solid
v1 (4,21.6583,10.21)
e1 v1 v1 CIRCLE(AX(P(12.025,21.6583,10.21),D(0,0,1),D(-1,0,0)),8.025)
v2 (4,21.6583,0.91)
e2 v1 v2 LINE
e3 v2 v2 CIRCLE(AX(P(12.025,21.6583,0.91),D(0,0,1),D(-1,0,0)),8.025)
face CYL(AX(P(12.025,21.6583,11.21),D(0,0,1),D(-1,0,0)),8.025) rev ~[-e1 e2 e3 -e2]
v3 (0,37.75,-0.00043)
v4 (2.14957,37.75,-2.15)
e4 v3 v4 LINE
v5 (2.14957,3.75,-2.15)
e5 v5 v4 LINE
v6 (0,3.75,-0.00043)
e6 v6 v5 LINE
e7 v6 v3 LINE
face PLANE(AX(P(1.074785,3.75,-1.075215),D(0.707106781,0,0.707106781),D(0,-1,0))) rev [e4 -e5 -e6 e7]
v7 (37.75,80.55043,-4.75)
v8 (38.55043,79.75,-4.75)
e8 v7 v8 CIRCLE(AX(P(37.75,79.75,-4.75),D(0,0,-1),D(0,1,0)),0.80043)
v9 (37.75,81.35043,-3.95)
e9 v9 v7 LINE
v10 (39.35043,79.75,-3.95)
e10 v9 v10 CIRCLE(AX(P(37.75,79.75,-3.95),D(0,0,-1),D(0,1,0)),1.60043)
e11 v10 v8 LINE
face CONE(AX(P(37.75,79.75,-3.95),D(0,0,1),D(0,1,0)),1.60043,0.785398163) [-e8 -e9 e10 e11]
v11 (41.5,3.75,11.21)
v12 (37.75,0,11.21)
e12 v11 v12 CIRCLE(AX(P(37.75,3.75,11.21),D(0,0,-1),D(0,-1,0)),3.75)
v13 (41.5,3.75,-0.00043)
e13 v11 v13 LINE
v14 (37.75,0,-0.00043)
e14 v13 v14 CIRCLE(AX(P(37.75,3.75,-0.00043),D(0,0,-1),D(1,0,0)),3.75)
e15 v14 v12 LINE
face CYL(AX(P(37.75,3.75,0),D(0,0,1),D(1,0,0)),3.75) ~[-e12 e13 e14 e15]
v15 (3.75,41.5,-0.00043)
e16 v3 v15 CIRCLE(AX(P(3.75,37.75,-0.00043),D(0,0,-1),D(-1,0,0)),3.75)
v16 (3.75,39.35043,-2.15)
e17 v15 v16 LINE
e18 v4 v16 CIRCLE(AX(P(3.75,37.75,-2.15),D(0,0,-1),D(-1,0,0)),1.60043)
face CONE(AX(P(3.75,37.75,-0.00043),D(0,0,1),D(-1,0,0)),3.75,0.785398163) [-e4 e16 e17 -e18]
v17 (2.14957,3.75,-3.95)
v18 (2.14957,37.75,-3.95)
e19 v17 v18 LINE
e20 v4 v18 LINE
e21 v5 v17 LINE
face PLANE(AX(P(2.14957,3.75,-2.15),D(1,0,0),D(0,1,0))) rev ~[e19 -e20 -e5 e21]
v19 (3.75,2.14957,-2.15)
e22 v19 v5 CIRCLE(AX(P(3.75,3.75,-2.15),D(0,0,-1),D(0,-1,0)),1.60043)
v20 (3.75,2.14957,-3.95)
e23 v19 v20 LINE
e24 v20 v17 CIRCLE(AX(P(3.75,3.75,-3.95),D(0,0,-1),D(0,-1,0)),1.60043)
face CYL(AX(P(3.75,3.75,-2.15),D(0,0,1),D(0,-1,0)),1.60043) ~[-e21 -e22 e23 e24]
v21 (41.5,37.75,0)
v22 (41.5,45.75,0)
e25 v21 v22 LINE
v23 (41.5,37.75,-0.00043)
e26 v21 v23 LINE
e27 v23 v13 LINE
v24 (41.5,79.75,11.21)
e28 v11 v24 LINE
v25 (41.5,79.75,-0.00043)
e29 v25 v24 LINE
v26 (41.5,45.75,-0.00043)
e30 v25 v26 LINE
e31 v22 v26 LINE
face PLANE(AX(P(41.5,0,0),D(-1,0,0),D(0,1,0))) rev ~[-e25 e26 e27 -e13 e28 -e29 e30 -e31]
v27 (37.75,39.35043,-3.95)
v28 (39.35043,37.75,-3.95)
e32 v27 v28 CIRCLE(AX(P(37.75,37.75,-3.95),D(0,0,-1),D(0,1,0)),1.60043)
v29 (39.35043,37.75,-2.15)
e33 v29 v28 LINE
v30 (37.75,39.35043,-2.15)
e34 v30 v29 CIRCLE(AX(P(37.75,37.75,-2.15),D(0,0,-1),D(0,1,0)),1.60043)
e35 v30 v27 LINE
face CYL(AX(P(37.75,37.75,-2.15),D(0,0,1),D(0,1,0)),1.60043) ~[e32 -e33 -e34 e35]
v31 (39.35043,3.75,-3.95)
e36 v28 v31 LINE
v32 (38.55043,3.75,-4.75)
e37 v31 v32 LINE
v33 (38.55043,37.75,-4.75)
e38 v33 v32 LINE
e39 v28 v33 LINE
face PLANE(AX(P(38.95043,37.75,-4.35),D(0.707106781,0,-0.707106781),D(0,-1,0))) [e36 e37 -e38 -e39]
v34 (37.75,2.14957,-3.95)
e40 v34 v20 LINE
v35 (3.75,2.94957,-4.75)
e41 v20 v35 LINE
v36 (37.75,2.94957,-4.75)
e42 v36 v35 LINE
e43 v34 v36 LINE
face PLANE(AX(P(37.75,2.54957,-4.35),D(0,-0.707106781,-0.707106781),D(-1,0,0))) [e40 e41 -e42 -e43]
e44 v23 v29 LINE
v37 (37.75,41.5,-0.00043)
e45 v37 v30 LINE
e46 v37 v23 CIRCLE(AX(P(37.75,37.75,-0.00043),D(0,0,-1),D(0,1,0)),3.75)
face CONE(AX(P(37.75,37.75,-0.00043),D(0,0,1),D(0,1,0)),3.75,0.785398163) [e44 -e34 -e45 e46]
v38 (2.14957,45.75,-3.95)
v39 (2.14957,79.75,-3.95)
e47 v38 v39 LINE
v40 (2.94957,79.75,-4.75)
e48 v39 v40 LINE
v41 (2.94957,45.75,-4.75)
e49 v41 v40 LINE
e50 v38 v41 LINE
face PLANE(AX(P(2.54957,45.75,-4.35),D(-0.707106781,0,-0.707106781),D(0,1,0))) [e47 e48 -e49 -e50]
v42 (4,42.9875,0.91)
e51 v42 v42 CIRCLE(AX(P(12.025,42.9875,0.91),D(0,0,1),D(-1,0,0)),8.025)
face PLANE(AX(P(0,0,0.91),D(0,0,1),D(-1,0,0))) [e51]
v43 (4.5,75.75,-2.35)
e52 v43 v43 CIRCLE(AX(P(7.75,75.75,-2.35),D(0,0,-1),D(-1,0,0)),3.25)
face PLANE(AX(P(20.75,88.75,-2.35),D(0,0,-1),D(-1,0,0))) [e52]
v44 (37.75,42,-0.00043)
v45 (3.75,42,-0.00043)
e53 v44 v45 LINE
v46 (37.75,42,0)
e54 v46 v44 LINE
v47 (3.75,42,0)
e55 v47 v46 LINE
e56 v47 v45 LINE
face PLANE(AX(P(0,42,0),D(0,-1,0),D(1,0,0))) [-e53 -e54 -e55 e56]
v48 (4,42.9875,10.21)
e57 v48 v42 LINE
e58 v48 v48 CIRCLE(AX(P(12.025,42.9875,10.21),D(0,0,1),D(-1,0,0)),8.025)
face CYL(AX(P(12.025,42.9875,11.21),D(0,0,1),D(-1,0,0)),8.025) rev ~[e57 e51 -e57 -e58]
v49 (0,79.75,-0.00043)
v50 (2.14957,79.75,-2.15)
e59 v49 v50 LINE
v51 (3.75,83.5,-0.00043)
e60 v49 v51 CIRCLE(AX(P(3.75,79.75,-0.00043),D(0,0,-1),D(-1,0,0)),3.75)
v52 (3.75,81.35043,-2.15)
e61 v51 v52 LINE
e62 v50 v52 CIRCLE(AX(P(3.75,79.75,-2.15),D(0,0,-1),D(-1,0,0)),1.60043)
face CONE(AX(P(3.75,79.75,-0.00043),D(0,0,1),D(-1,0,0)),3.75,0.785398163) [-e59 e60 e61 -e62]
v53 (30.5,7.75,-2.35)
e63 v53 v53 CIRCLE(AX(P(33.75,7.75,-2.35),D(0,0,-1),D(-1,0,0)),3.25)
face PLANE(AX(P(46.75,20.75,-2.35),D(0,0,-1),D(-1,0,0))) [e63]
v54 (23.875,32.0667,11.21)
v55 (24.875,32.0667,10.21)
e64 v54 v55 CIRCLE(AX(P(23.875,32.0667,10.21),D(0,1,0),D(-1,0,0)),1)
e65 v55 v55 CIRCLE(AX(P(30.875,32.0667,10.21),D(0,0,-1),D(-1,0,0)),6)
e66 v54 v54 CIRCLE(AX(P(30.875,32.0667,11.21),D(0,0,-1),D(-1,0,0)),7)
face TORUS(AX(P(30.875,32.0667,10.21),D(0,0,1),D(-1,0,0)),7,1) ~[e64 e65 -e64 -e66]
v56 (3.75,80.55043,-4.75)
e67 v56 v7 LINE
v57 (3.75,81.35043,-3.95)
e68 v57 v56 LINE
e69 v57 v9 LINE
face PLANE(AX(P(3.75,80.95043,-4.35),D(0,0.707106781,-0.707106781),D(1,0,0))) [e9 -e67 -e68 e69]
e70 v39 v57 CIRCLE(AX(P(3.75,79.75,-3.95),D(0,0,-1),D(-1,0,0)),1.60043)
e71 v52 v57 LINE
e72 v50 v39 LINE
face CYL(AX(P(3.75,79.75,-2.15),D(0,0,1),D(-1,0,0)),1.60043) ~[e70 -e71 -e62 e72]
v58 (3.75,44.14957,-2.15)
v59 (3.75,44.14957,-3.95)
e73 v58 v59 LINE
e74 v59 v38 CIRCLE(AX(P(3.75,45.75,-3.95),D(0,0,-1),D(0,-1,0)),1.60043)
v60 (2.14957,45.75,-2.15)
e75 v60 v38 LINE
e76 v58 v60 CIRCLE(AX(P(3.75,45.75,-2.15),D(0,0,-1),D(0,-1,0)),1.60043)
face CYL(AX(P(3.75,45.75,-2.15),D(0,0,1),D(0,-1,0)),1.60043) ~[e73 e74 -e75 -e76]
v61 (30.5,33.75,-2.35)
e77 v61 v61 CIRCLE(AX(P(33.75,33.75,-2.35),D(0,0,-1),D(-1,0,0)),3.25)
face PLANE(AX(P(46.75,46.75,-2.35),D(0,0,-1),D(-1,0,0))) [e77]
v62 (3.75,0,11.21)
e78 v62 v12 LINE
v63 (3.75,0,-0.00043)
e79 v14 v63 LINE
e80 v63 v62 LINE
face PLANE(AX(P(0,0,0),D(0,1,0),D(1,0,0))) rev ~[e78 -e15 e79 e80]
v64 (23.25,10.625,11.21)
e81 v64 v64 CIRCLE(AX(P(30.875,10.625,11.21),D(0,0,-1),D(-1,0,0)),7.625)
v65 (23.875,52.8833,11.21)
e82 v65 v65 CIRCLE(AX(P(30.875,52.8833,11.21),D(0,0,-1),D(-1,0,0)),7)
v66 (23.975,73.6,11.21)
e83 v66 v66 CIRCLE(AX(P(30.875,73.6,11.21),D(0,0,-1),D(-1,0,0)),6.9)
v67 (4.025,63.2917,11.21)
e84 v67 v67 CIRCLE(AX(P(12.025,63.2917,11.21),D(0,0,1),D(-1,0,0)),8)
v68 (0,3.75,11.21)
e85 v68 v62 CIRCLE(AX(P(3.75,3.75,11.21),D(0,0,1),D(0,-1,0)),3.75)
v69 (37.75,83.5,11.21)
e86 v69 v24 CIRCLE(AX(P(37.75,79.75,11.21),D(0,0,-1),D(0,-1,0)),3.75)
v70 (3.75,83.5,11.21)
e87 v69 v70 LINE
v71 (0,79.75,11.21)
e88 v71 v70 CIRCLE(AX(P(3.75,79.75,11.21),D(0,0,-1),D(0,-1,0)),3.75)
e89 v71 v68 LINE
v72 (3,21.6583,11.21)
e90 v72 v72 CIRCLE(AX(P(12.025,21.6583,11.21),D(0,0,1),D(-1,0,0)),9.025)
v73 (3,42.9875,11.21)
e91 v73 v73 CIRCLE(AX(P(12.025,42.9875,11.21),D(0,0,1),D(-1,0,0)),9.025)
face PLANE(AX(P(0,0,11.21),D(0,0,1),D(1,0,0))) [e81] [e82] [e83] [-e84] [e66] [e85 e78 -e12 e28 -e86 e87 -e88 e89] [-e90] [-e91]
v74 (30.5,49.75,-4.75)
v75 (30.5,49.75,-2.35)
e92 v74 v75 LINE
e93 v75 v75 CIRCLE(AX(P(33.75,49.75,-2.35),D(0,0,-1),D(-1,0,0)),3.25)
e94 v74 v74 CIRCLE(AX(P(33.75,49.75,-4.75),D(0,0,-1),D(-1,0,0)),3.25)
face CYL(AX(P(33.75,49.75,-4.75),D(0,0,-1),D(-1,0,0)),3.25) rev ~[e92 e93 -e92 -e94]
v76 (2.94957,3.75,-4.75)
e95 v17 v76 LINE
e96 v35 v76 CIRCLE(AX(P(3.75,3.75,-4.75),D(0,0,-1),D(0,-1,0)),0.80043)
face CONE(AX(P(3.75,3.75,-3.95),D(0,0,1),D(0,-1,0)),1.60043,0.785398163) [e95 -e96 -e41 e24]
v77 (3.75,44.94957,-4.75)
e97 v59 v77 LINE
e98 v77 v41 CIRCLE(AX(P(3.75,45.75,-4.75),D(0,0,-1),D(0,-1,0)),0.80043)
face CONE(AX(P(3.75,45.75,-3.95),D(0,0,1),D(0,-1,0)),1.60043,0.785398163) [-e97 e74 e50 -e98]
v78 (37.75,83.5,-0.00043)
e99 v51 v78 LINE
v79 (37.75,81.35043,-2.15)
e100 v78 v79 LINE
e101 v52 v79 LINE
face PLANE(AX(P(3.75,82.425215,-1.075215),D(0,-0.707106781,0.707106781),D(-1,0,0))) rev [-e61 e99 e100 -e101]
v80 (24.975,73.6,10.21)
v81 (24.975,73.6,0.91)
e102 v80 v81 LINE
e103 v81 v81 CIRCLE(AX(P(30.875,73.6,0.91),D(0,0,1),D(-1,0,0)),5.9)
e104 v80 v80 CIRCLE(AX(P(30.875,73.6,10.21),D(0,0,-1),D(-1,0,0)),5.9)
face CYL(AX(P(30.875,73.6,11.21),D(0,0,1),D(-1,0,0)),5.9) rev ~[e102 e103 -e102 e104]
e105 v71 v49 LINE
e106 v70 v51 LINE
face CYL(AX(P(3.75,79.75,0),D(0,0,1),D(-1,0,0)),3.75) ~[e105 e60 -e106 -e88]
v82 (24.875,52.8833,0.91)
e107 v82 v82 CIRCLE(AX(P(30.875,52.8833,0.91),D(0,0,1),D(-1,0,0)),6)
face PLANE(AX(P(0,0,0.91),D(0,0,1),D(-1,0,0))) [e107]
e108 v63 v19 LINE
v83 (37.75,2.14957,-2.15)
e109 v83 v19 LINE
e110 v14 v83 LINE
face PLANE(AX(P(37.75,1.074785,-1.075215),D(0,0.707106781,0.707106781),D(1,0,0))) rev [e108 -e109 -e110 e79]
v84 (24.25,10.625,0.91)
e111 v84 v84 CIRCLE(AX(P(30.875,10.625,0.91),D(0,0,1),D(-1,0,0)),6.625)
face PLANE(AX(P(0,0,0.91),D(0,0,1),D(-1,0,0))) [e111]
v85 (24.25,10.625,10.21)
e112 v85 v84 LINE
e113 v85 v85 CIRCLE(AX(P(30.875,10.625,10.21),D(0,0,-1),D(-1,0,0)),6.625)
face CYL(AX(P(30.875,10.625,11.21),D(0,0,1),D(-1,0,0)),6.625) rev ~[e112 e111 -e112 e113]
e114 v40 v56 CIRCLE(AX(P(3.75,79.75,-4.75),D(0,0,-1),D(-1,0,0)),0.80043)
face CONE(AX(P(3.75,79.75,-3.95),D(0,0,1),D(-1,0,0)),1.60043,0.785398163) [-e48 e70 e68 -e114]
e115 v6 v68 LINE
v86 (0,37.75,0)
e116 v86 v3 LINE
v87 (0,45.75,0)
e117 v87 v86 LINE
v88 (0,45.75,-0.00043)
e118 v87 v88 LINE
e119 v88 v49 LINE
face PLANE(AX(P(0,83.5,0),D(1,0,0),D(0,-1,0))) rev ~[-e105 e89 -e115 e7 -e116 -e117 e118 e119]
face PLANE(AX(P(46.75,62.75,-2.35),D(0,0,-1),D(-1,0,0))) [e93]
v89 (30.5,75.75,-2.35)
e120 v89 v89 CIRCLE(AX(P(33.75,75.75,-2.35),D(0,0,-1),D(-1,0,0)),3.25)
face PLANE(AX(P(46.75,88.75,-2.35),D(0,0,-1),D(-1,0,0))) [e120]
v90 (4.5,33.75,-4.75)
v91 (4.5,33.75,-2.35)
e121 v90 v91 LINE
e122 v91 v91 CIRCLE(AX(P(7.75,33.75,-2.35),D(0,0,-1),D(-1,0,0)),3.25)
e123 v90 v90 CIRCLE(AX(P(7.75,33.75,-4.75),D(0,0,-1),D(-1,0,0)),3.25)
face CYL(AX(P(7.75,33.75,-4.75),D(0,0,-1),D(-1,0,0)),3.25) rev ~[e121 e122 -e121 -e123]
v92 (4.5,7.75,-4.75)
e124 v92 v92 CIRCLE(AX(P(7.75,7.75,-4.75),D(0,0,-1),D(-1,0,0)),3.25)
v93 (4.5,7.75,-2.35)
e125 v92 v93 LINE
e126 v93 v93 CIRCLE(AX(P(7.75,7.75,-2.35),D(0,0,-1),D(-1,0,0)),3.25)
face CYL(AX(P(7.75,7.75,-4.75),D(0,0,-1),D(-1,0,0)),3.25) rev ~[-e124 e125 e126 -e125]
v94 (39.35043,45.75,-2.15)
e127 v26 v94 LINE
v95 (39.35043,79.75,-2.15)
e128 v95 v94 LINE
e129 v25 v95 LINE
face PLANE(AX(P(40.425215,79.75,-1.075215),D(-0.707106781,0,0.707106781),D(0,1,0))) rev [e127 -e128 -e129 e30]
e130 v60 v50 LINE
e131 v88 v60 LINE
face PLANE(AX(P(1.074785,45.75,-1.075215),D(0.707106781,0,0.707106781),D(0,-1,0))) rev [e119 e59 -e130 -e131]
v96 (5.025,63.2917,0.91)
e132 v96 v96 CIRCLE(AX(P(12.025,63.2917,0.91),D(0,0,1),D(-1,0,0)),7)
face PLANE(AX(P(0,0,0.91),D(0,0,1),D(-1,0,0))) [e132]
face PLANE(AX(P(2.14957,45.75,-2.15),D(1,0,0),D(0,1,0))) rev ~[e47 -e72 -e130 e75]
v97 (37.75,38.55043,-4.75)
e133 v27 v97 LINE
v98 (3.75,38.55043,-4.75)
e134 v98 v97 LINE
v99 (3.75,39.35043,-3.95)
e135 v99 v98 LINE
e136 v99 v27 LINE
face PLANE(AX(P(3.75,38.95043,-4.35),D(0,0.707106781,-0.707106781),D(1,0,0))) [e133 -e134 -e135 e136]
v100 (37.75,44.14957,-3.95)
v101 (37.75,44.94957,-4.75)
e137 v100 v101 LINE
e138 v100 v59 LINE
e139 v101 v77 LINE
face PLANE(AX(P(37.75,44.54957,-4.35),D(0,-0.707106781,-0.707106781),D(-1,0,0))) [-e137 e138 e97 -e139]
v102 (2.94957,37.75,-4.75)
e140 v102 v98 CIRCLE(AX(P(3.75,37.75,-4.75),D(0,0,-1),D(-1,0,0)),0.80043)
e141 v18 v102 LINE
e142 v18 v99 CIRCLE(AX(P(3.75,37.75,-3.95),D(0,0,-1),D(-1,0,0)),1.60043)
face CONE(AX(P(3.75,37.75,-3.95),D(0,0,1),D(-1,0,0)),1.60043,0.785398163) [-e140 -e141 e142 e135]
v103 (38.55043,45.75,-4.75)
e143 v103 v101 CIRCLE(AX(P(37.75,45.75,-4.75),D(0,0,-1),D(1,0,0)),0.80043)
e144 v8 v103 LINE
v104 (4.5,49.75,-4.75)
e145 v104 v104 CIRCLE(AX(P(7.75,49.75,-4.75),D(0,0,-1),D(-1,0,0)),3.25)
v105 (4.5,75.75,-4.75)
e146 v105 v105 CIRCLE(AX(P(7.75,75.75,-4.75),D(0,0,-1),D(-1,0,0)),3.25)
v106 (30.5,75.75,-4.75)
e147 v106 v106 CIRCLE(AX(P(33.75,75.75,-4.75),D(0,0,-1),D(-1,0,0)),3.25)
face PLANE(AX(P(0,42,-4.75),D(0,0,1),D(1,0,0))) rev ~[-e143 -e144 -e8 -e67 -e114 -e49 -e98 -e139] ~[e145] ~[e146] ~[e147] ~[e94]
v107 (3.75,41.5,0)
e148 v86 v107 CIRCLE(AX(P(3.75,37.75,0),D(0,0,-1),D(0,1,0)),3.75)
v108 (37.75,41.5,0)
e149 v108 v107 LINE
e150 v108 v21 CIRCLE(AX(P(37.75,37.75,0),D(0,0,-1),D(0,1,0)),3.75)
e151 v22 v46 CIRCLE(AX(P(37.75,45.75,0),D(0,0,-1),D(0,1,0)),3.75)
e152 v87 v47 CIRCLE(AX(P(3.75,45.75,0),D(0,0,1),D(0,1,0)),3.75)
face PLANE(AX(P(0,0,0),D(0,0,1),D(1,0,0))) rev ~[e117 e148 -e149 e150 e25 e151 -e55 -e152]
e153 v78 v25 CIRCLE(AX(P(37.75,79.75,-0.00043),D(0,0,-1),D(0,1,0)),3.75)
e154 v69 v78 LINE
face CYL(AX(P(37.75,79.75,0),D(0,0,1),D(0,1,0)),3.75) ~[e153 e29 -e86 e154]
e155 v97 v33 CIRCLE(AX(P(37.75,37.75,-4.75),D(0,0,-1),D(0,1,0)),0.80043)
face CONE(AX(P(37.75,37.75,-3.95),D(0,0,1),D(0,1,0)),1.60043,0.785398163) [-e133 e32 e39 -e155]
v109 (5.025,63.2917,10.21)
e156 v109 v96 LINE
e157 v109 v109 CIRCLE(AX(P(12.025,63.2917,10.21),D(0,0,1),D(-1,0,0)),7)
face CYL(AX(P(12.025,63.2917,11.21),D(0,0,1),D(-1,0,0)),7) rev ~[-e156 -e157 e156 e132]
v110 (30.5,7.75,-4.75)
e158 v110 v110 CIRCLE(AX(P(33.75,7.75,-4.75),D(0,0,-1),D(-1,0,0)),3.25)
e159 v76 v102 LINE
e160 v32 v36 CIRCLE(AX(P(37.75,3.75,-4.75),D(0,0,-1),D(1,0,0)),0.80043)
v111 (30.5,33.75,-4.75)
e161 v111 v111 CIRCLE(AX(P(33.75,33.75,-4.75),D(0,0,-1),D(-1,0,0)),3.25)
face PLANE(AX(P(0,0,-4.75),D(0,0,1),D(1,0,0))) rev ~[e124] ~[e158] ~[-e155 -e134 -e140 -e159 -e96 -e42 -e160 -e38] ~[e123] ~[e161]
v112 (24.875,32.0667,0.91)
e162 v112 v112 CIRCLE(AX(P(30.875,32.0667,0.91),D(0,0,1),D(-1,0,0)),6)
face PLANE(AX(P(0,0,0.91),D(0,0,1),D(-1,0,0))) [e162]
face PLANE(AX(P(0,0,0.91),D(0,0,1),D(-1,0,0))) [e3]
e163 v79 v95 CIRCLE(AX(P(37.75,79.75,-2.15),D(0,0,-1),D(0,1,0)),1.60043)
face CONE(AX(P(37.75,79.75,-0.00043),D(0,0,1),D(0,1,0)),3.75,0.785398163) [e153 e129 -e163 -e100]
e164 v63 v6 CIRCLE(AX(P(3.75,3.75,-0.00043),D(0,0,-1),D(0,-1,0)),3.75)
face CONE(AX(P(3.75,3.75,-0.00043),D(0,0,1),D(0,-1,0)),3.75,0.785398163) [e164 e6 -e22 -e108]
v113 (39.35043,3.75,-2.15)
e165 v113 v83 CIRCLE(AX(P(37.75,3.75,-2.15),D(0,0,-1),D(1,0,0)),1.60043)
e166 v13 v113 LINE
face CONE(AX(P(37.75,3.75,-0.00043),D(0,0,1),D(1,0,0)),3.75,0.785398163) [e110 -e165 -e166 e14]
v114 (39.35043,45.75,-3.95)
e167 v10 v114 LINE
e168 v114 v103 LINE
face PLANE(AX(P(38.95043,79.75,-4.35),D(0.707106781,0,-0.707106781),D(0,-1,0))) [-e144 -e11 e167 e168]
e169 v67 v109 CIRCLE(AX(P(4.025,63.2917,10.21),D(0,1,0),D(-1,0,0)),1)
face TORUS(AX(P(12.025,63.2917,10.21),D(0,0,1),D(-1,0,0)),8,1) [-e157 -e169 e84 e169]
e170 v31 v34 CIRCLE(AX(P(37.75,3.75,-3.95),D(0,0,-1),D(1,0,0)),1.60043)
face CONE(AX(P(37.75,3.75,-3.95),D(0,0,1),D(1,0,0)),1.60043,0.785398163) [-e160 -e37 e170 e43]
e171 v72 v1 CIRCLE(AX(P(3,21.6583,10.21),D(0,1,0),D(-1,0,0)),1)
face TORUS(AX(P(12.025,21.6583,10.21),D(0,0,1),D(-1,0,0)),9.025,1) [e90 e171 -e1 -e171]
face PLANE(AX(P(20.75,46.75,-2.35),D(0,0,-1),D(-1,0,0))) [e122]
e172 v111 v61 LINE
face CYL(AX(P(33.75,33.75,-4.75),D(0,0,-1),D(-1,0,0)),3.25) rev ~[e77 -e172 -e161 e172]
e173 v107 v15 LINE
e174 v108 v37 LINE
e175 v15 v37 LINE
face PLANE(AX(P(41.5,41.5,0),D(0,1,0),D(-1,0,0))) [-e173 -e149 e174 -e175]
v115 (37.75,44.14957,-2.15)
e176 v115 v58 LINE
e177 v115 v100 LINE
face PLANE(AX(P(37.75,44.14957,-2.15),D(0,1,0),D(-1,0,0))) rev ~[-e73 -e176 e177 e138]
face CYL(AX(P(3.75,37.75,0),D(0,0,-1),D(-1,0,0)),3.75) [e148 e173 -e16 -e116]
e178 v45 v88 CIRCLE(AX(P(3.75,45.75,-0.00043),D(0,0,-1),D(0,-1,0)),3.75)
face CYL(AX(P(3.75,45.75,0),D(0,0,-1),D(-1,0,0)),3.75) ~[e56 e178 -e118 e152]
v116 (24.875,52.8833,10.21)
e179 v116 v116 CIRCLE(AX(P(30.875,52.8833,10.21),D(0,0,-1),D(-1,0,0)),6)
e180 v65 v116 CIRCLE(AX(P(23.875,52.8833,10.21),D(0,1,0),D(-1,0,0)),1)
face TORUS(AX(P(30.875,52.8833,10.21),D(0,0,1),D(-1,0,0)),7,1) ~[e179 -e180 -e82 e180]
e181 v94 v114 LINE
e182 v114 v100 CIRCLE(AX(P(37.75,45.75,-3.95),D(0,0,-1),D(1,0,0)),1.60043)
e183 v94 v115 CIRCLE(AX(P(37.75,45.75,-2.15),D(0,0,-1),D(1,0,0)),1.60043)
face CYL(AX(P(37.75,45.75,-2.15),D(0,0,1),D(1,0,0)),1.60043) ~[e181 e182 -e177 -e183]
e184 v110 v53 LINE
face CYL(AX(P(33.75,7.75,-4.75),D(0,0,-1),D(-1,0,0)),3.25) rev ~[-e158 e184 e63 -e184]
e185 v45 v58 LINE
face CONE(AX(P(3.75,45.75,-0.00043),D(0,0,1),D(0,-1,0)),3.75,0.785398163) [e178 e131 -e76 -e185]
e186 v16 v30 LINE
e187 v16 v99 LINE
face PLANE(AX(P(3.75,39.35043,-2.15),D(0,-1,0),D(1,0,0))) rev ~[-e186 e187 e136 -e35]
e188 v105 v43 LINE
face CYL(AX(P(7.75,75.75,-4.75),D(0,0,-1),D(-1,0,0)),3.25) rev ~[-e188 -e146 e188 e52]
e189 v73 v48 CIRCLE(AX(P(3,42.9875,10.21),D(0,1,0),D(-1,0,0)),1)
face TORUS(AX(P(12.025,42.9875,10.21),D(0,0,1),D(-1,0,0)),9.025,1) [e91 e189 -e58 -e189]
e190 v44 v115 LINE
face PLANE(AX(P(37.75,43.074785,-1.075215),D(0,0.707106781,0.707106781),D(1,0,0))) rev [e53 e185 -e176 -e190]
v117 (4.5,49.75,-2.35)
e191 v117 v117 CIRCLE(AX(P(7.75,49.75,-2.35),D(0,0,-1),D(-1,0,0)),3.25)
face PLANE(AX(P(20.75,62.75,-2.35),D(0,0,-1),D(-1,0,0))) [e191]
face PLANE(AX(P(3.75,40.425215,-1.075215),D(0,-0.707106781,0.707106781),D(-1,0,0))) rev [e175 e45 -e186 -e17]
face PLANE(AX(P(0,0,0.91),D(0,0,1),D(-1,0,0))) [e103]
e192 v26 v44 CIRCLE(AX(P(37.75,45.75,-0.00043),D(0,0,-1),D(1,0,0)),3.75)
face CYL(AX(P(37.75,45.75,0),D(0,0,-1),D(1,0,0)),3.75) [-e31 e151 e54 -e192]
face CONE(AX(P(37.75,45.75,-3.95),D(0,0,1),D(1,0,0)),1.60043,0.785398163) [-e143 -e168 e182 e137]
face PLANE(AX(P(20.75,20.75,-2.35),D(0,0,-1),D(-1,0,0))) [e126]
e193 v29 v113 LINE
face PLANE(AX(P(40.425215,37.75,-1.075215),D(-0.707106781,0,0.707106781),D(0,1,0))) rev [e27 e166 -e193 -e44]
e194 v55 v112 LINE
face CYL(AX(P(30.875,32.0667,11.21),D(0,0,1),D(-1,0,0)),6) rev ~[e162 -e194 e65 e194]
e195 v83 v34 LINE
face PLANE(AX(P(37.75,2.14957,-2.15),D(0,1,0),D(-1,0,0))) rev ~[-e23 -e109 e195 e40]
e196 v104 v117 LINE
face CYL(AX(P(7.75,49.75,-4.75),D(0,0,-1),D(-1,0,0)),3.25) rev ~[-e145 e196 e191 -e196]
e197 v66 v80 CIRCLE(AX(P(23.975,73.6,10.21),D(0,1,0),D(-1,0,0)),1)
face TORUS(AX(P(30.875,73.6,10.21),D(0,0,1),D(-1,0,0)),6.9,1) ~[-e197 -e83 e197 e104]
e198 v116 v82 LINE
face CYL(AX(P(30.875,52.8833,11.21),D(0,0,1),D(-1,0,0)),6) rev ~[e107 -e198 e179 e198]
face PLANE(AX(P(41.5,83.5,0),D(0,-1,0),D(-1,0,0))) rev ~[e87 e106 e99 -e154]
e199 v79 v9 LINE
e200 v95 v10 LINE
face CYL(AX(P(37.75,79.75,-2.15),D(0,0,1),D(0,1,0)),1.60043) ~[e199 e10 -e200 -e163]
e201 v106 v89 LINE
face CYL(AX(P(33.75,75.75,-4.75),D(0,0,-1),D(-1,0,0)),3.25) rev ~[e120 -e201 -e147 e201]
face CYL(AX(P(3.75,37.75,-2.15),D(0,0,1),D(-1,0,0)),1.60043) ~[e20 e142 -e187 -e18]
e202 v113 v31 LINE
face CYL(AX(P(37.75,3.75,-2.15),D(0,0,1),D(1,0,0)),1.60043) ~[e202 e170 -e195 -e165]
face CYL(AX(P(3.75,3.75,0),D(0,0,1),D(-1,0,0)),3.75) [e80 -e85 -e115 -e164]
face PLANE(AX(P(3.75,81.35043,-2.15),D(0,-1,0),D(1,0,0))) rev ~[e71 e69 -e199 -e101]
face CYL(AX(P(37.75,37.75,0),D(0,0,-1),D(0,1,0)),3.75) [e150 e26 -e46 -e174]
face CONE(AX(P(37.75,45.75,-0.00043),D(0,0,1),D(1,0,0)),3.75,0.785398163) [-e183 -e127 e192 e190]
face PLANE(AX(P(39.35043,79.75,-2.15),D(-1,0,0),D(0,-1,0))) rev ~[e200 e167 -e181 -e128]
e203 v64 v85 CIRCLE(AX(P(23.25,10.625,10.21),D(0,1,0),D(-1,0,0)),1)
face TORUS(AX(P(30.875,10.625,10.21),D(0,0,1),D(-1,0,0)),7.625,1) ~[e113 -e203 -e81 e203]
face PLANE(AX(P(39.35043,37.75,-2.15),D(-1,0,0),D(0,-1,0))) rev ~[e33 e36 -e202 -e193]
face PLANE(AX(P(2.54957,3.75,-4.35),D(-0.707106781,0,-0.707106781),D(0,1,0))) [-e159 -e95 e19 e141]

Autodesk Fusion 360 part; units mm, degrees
ref_plane "WorkPlane1" through (0, 0, 0) normal (0, 0, 1) x (1, 0, 0) in component "Gridfinity bin 2x1x2"
sketch "Sketch1" plane through (0, 0, 0) normal (0, 0, 1) x (1, 0, 0) in component "Gridfinity bin 2x1x2"
  line L0 (0, 0) -> (41.5, 0)
  line L1 (41.5, 0) -> (41.5, 41.5)
  line L2 (41.5, 41.5) -> (0, 41.5)
  line L3 (0, 41.5) -> (0, 0)
  dimension "d2" = 41.5
  dimension "d3" = 41.5
extrude "Extrude1" add sketch "Sketch1" against normal blind 2.15 makes body 1 in component "Gridfinity bin 2x1x2"
fillet "Fillet1" radius 3.75 8 edges at (0, 0, -1.075) (41.5, 0, -1.075) (41.5, 0, -1.075) (41.5, 41.5, -1.075) (41.5, 41.5, -1.075) (0, 41.5, -1.075) (0, 41.5, -1.075) (0, 0, -1.075) on bodies 1 in component "Gridfinity bin 2x1x2"
chamfer "Chamfer1" distance 2.15 angle 45 8 edges at (1.0983, 40.4017, -2.15) (0, 20.75, -2.15) (1.0983, 1.0983, -2.15) (20.75, 0, -2.15) (40.4017, 1.0983, -2.15) (41.5, 20.75, -2.15) (40.4017, 40.4017, -2.15) (20.75, 41.5, -2.15) on bodies 1 in component "Gridfinity bin 2x1x2"
extrude "Extrude2" add 1 faces at (14.5499, 26.4167, -2.15) along direction (0, 0, -1) blind 2.6 on bodies 1 bodies 1 in component "Gridfinity bin 2x1x2"
chamfer "Chamfer2" distance 0.8 angle 45 8 edges at (2.6186, 38.8814, -4.75) (20.75, 39.35, -4.75) (38.8814, 38.8814, -4.75) (39.35, 20.75, -4.75) (38.8814, 2.6186, -4.75) (20.75, 2.15, -4.75) (2.6186, 2.6186, -4.75) (2.15, 20.75, -4.75) on bodies 1 in component "Gridfinity bin 2x1x2"
ref_plane "WorkPlane2" through (20.75, 20.75, -4.75) normal (0, 0, -1) x (-1, 0, 0) in component "Gridfinity bin 2x1x2"
sketch "Sketch2" plane through (20.75, 20.75, -4.75) normal (0, 0, -1) x (-1, 0, 0) in component "Gridfinity bin 2x1x2"
  circle A0 centre (13, -13) radius 3.25
  dimension "d13" = 6.5
  dimension "d14" = 13
  dimension "d15" = 13
extrude "Extrude3" add sketch "Sketch2" against normal blind 2.4 separate body makes body 2 in component "Gridfinity bin 2x1x2"
pattern_linear "R-Pattern1" count 2 spacing 26 along (1, 0, 0) count 2 spacing 26 along (0, 1, 0) of bodies 2 makes body 3 at (30.5161, 7.4264, -3.95) makes body 4 at (4.5161, 33.4264, -3.95) makes body 5 at (30.5161, 33.4264, -3.95) in component "Gridfinity bin 2x1x2"
combine "Combine1" operation cut target body 1 tool bodies 2 3 4 5 2 in component "Gridfinity bin 2x1x2"
pattern_linear "R-Pattern2" count 1 spacing 42 along (1, 0, 0) count 2 spacing 42 along (0, 1, 0) of bodies 1 makes body 6 in component "Gridfinity bin 2x1x2"
sketch "Sketch3" plane through (0, 0, 0) normal (0, 0, 1) x (1, 0, 0) in component "Gridfinity bin 2x1x2"
  line L0 (0, 0) -> (41.5, 0)
  line L1 (41.5, 0) -> (41.5, 83.5)
  line L2 (41.5, 83.5) -> (0, 83.5)
  line L3 (0, 83.5) -> (0, 0)
  dimension "d26" = 41.5
  dimension "d27" = 83.5
extrude "Extrude4" add sketch "Sketch3" along normal blind 11.21 separate body makes body 7 in component "Gridfinity bin 2x1x2"
fillet "Fillet2" radius 3.75 8 edges at (0, 83.5, 5.605) (41.5, 83.5, 5.605) (41.5, 83.5, 5.605) (41.5, 0, 5.605) (0, 0, 5.605) (0, 83.5, 5.605) (41.5, 0, 5.605) (0, 0, 5.605) on bodies 7 in component "Gridfinity bin 2x1x2"
combine "Combine2" operation add target body 7 tool bodies 1 6 1 in component "Gridfinity bin 2x1x2"
sketch "Sketch4" plane through (0, 0, 11.21) normal (0, 0, 1) x (-1, 0, 0) in component "Gridfinity bin 2x1x2"
  arc A0 (0, -3.75) -> (-3.75, 0) centre (-3.75, -3.75) ccw
  line L0 (-3.75, 0) -> (-37.75, 0)
  arc A1 (-37.75, 0) -> (-41.5, -3.75) centre (-37.75, -3.75) ccw
  line L1 (-41.5, -3.75) -> (-41.5, -79.75)
  arc A2 (-41.5, -79.75) -> (-37.75, -83.5) centre (-37.75, -79.75) ccw
  line L2 (-37.75, -83.5) -> (-3.75, -83.5)
  arc A3 (-3.75, -83.5) -> (0, -79.75) centre (-3.75, -79.75) ccw
  line L3 (0, -79.75) -> (0, -3.75)
  circle A4 centre (-12.025, -21.6583) radius 8.025
  circle A5 centre (-12.025, -42.9875) radius 8.025
  circle A6 centre (-12.025, -63.2917) radius 7
  circle A7 centre (-30.875, -10.625) radius 6.625
  circle A8 centre (-30.875, -32.0667) radius 6
  circle A9 centre (-30.875, -52.8833) radius 6
  circle A10 centre (-30.875, -73.6) radius 5.9
  line L4 (-30.875, -10.625) -> (-30.875, -73.6) construction
  line L5 (-30.875, -17.25) -> (-30.875, -26.0667)
  line L6 (-30.875, -38.0667) -> (-30.875, -46.8833)
  line L7 (-30.875, -58.8833) -> (-30.875, -67.7)
  line L8 (-12.025, -21.6583) -> (-12.025, -63.2917) construction
  line L9 (-30.875, -21.6583) -> (-12.025, -21.6583) construction
  line L10 (-30.875, -63.2917) -> (-12.025, -63.2917) construction
  line L11 (-12.025, -29.6833) -> (-12.025, -34.9625) construction
  line L12 (-12.025, -51.0125) -> (-12.025, -56.2917) construction
  dimension "d32" = 16.05
  dimension "d33" = 16.05
  dimension "d34" = 14
  dimension "d35" = 13.25
  dimension "d36" = 12
  dimension "d37" = 12
  dimension "d38" = 11.8
  dimension "d39" = 10.625
  dimension "d40" = 10.625
  dimension "d41" = 9.9
  dimension "d43" = 12.025
extrude "Extrude5" cut sketch "Sketch4" against normal blind 10.3 contours A4 | A5 | A6 | A7 | A8 | A9 | A10 bodies 7 in component "Gridfinity bin 2x1x2"
fillet "Fillet3" radius 1 7 edges at (19.5069, 40.0855, 11.21) (19.5069, 18.7564, 11.21) (37.0517, 8.2293, 11.21) (36.469, 29.897, 11.21) (36.469, 50.7136, 11.21) (36.3757, 71.4665, 11.21) (18.5513, 60.7604, 11.21) on bodies 7 in component "Gridfinity bin 2x1x2"
component "Gridfinity bin 2x1x2" placed x (1, 0, 0) y (0, 1, 0) z (0, 0, 1) at (0, 0, 0)
equation "d4 = -( 2.15 mm )"
equation "d32 = 15.75 mm + 0.3 mm"
equation "d33 = 15.75 mm + 0.3 mm"
equation "d34 = 13.7 mm + 0.3 mm"
equation "d35 = 12.95 mm + 0.3 mm"
equation "d36 = 11.7 mm + 0.3 mm"
equation "d37 = 11.7 mm + 0.3 mm"
equation "d38 = 11.5 mm + 0.3 mm"
equation "d39 = ( 13.25 / 2 ) * 1 mm + WallOffset"
equation "d40 = ( 13.25 / 2 ) * 1 mm + WallOffset"
equation "d41 = ( 11.8 / 2 ) * 1 mm + WallOffset"
equation "WallOffset = 4 mm"
equation "d43 = ( 16.05 / 2 ) * 1 mm + WallOffset"
equation "d44 = -20.6 mm / 2"
